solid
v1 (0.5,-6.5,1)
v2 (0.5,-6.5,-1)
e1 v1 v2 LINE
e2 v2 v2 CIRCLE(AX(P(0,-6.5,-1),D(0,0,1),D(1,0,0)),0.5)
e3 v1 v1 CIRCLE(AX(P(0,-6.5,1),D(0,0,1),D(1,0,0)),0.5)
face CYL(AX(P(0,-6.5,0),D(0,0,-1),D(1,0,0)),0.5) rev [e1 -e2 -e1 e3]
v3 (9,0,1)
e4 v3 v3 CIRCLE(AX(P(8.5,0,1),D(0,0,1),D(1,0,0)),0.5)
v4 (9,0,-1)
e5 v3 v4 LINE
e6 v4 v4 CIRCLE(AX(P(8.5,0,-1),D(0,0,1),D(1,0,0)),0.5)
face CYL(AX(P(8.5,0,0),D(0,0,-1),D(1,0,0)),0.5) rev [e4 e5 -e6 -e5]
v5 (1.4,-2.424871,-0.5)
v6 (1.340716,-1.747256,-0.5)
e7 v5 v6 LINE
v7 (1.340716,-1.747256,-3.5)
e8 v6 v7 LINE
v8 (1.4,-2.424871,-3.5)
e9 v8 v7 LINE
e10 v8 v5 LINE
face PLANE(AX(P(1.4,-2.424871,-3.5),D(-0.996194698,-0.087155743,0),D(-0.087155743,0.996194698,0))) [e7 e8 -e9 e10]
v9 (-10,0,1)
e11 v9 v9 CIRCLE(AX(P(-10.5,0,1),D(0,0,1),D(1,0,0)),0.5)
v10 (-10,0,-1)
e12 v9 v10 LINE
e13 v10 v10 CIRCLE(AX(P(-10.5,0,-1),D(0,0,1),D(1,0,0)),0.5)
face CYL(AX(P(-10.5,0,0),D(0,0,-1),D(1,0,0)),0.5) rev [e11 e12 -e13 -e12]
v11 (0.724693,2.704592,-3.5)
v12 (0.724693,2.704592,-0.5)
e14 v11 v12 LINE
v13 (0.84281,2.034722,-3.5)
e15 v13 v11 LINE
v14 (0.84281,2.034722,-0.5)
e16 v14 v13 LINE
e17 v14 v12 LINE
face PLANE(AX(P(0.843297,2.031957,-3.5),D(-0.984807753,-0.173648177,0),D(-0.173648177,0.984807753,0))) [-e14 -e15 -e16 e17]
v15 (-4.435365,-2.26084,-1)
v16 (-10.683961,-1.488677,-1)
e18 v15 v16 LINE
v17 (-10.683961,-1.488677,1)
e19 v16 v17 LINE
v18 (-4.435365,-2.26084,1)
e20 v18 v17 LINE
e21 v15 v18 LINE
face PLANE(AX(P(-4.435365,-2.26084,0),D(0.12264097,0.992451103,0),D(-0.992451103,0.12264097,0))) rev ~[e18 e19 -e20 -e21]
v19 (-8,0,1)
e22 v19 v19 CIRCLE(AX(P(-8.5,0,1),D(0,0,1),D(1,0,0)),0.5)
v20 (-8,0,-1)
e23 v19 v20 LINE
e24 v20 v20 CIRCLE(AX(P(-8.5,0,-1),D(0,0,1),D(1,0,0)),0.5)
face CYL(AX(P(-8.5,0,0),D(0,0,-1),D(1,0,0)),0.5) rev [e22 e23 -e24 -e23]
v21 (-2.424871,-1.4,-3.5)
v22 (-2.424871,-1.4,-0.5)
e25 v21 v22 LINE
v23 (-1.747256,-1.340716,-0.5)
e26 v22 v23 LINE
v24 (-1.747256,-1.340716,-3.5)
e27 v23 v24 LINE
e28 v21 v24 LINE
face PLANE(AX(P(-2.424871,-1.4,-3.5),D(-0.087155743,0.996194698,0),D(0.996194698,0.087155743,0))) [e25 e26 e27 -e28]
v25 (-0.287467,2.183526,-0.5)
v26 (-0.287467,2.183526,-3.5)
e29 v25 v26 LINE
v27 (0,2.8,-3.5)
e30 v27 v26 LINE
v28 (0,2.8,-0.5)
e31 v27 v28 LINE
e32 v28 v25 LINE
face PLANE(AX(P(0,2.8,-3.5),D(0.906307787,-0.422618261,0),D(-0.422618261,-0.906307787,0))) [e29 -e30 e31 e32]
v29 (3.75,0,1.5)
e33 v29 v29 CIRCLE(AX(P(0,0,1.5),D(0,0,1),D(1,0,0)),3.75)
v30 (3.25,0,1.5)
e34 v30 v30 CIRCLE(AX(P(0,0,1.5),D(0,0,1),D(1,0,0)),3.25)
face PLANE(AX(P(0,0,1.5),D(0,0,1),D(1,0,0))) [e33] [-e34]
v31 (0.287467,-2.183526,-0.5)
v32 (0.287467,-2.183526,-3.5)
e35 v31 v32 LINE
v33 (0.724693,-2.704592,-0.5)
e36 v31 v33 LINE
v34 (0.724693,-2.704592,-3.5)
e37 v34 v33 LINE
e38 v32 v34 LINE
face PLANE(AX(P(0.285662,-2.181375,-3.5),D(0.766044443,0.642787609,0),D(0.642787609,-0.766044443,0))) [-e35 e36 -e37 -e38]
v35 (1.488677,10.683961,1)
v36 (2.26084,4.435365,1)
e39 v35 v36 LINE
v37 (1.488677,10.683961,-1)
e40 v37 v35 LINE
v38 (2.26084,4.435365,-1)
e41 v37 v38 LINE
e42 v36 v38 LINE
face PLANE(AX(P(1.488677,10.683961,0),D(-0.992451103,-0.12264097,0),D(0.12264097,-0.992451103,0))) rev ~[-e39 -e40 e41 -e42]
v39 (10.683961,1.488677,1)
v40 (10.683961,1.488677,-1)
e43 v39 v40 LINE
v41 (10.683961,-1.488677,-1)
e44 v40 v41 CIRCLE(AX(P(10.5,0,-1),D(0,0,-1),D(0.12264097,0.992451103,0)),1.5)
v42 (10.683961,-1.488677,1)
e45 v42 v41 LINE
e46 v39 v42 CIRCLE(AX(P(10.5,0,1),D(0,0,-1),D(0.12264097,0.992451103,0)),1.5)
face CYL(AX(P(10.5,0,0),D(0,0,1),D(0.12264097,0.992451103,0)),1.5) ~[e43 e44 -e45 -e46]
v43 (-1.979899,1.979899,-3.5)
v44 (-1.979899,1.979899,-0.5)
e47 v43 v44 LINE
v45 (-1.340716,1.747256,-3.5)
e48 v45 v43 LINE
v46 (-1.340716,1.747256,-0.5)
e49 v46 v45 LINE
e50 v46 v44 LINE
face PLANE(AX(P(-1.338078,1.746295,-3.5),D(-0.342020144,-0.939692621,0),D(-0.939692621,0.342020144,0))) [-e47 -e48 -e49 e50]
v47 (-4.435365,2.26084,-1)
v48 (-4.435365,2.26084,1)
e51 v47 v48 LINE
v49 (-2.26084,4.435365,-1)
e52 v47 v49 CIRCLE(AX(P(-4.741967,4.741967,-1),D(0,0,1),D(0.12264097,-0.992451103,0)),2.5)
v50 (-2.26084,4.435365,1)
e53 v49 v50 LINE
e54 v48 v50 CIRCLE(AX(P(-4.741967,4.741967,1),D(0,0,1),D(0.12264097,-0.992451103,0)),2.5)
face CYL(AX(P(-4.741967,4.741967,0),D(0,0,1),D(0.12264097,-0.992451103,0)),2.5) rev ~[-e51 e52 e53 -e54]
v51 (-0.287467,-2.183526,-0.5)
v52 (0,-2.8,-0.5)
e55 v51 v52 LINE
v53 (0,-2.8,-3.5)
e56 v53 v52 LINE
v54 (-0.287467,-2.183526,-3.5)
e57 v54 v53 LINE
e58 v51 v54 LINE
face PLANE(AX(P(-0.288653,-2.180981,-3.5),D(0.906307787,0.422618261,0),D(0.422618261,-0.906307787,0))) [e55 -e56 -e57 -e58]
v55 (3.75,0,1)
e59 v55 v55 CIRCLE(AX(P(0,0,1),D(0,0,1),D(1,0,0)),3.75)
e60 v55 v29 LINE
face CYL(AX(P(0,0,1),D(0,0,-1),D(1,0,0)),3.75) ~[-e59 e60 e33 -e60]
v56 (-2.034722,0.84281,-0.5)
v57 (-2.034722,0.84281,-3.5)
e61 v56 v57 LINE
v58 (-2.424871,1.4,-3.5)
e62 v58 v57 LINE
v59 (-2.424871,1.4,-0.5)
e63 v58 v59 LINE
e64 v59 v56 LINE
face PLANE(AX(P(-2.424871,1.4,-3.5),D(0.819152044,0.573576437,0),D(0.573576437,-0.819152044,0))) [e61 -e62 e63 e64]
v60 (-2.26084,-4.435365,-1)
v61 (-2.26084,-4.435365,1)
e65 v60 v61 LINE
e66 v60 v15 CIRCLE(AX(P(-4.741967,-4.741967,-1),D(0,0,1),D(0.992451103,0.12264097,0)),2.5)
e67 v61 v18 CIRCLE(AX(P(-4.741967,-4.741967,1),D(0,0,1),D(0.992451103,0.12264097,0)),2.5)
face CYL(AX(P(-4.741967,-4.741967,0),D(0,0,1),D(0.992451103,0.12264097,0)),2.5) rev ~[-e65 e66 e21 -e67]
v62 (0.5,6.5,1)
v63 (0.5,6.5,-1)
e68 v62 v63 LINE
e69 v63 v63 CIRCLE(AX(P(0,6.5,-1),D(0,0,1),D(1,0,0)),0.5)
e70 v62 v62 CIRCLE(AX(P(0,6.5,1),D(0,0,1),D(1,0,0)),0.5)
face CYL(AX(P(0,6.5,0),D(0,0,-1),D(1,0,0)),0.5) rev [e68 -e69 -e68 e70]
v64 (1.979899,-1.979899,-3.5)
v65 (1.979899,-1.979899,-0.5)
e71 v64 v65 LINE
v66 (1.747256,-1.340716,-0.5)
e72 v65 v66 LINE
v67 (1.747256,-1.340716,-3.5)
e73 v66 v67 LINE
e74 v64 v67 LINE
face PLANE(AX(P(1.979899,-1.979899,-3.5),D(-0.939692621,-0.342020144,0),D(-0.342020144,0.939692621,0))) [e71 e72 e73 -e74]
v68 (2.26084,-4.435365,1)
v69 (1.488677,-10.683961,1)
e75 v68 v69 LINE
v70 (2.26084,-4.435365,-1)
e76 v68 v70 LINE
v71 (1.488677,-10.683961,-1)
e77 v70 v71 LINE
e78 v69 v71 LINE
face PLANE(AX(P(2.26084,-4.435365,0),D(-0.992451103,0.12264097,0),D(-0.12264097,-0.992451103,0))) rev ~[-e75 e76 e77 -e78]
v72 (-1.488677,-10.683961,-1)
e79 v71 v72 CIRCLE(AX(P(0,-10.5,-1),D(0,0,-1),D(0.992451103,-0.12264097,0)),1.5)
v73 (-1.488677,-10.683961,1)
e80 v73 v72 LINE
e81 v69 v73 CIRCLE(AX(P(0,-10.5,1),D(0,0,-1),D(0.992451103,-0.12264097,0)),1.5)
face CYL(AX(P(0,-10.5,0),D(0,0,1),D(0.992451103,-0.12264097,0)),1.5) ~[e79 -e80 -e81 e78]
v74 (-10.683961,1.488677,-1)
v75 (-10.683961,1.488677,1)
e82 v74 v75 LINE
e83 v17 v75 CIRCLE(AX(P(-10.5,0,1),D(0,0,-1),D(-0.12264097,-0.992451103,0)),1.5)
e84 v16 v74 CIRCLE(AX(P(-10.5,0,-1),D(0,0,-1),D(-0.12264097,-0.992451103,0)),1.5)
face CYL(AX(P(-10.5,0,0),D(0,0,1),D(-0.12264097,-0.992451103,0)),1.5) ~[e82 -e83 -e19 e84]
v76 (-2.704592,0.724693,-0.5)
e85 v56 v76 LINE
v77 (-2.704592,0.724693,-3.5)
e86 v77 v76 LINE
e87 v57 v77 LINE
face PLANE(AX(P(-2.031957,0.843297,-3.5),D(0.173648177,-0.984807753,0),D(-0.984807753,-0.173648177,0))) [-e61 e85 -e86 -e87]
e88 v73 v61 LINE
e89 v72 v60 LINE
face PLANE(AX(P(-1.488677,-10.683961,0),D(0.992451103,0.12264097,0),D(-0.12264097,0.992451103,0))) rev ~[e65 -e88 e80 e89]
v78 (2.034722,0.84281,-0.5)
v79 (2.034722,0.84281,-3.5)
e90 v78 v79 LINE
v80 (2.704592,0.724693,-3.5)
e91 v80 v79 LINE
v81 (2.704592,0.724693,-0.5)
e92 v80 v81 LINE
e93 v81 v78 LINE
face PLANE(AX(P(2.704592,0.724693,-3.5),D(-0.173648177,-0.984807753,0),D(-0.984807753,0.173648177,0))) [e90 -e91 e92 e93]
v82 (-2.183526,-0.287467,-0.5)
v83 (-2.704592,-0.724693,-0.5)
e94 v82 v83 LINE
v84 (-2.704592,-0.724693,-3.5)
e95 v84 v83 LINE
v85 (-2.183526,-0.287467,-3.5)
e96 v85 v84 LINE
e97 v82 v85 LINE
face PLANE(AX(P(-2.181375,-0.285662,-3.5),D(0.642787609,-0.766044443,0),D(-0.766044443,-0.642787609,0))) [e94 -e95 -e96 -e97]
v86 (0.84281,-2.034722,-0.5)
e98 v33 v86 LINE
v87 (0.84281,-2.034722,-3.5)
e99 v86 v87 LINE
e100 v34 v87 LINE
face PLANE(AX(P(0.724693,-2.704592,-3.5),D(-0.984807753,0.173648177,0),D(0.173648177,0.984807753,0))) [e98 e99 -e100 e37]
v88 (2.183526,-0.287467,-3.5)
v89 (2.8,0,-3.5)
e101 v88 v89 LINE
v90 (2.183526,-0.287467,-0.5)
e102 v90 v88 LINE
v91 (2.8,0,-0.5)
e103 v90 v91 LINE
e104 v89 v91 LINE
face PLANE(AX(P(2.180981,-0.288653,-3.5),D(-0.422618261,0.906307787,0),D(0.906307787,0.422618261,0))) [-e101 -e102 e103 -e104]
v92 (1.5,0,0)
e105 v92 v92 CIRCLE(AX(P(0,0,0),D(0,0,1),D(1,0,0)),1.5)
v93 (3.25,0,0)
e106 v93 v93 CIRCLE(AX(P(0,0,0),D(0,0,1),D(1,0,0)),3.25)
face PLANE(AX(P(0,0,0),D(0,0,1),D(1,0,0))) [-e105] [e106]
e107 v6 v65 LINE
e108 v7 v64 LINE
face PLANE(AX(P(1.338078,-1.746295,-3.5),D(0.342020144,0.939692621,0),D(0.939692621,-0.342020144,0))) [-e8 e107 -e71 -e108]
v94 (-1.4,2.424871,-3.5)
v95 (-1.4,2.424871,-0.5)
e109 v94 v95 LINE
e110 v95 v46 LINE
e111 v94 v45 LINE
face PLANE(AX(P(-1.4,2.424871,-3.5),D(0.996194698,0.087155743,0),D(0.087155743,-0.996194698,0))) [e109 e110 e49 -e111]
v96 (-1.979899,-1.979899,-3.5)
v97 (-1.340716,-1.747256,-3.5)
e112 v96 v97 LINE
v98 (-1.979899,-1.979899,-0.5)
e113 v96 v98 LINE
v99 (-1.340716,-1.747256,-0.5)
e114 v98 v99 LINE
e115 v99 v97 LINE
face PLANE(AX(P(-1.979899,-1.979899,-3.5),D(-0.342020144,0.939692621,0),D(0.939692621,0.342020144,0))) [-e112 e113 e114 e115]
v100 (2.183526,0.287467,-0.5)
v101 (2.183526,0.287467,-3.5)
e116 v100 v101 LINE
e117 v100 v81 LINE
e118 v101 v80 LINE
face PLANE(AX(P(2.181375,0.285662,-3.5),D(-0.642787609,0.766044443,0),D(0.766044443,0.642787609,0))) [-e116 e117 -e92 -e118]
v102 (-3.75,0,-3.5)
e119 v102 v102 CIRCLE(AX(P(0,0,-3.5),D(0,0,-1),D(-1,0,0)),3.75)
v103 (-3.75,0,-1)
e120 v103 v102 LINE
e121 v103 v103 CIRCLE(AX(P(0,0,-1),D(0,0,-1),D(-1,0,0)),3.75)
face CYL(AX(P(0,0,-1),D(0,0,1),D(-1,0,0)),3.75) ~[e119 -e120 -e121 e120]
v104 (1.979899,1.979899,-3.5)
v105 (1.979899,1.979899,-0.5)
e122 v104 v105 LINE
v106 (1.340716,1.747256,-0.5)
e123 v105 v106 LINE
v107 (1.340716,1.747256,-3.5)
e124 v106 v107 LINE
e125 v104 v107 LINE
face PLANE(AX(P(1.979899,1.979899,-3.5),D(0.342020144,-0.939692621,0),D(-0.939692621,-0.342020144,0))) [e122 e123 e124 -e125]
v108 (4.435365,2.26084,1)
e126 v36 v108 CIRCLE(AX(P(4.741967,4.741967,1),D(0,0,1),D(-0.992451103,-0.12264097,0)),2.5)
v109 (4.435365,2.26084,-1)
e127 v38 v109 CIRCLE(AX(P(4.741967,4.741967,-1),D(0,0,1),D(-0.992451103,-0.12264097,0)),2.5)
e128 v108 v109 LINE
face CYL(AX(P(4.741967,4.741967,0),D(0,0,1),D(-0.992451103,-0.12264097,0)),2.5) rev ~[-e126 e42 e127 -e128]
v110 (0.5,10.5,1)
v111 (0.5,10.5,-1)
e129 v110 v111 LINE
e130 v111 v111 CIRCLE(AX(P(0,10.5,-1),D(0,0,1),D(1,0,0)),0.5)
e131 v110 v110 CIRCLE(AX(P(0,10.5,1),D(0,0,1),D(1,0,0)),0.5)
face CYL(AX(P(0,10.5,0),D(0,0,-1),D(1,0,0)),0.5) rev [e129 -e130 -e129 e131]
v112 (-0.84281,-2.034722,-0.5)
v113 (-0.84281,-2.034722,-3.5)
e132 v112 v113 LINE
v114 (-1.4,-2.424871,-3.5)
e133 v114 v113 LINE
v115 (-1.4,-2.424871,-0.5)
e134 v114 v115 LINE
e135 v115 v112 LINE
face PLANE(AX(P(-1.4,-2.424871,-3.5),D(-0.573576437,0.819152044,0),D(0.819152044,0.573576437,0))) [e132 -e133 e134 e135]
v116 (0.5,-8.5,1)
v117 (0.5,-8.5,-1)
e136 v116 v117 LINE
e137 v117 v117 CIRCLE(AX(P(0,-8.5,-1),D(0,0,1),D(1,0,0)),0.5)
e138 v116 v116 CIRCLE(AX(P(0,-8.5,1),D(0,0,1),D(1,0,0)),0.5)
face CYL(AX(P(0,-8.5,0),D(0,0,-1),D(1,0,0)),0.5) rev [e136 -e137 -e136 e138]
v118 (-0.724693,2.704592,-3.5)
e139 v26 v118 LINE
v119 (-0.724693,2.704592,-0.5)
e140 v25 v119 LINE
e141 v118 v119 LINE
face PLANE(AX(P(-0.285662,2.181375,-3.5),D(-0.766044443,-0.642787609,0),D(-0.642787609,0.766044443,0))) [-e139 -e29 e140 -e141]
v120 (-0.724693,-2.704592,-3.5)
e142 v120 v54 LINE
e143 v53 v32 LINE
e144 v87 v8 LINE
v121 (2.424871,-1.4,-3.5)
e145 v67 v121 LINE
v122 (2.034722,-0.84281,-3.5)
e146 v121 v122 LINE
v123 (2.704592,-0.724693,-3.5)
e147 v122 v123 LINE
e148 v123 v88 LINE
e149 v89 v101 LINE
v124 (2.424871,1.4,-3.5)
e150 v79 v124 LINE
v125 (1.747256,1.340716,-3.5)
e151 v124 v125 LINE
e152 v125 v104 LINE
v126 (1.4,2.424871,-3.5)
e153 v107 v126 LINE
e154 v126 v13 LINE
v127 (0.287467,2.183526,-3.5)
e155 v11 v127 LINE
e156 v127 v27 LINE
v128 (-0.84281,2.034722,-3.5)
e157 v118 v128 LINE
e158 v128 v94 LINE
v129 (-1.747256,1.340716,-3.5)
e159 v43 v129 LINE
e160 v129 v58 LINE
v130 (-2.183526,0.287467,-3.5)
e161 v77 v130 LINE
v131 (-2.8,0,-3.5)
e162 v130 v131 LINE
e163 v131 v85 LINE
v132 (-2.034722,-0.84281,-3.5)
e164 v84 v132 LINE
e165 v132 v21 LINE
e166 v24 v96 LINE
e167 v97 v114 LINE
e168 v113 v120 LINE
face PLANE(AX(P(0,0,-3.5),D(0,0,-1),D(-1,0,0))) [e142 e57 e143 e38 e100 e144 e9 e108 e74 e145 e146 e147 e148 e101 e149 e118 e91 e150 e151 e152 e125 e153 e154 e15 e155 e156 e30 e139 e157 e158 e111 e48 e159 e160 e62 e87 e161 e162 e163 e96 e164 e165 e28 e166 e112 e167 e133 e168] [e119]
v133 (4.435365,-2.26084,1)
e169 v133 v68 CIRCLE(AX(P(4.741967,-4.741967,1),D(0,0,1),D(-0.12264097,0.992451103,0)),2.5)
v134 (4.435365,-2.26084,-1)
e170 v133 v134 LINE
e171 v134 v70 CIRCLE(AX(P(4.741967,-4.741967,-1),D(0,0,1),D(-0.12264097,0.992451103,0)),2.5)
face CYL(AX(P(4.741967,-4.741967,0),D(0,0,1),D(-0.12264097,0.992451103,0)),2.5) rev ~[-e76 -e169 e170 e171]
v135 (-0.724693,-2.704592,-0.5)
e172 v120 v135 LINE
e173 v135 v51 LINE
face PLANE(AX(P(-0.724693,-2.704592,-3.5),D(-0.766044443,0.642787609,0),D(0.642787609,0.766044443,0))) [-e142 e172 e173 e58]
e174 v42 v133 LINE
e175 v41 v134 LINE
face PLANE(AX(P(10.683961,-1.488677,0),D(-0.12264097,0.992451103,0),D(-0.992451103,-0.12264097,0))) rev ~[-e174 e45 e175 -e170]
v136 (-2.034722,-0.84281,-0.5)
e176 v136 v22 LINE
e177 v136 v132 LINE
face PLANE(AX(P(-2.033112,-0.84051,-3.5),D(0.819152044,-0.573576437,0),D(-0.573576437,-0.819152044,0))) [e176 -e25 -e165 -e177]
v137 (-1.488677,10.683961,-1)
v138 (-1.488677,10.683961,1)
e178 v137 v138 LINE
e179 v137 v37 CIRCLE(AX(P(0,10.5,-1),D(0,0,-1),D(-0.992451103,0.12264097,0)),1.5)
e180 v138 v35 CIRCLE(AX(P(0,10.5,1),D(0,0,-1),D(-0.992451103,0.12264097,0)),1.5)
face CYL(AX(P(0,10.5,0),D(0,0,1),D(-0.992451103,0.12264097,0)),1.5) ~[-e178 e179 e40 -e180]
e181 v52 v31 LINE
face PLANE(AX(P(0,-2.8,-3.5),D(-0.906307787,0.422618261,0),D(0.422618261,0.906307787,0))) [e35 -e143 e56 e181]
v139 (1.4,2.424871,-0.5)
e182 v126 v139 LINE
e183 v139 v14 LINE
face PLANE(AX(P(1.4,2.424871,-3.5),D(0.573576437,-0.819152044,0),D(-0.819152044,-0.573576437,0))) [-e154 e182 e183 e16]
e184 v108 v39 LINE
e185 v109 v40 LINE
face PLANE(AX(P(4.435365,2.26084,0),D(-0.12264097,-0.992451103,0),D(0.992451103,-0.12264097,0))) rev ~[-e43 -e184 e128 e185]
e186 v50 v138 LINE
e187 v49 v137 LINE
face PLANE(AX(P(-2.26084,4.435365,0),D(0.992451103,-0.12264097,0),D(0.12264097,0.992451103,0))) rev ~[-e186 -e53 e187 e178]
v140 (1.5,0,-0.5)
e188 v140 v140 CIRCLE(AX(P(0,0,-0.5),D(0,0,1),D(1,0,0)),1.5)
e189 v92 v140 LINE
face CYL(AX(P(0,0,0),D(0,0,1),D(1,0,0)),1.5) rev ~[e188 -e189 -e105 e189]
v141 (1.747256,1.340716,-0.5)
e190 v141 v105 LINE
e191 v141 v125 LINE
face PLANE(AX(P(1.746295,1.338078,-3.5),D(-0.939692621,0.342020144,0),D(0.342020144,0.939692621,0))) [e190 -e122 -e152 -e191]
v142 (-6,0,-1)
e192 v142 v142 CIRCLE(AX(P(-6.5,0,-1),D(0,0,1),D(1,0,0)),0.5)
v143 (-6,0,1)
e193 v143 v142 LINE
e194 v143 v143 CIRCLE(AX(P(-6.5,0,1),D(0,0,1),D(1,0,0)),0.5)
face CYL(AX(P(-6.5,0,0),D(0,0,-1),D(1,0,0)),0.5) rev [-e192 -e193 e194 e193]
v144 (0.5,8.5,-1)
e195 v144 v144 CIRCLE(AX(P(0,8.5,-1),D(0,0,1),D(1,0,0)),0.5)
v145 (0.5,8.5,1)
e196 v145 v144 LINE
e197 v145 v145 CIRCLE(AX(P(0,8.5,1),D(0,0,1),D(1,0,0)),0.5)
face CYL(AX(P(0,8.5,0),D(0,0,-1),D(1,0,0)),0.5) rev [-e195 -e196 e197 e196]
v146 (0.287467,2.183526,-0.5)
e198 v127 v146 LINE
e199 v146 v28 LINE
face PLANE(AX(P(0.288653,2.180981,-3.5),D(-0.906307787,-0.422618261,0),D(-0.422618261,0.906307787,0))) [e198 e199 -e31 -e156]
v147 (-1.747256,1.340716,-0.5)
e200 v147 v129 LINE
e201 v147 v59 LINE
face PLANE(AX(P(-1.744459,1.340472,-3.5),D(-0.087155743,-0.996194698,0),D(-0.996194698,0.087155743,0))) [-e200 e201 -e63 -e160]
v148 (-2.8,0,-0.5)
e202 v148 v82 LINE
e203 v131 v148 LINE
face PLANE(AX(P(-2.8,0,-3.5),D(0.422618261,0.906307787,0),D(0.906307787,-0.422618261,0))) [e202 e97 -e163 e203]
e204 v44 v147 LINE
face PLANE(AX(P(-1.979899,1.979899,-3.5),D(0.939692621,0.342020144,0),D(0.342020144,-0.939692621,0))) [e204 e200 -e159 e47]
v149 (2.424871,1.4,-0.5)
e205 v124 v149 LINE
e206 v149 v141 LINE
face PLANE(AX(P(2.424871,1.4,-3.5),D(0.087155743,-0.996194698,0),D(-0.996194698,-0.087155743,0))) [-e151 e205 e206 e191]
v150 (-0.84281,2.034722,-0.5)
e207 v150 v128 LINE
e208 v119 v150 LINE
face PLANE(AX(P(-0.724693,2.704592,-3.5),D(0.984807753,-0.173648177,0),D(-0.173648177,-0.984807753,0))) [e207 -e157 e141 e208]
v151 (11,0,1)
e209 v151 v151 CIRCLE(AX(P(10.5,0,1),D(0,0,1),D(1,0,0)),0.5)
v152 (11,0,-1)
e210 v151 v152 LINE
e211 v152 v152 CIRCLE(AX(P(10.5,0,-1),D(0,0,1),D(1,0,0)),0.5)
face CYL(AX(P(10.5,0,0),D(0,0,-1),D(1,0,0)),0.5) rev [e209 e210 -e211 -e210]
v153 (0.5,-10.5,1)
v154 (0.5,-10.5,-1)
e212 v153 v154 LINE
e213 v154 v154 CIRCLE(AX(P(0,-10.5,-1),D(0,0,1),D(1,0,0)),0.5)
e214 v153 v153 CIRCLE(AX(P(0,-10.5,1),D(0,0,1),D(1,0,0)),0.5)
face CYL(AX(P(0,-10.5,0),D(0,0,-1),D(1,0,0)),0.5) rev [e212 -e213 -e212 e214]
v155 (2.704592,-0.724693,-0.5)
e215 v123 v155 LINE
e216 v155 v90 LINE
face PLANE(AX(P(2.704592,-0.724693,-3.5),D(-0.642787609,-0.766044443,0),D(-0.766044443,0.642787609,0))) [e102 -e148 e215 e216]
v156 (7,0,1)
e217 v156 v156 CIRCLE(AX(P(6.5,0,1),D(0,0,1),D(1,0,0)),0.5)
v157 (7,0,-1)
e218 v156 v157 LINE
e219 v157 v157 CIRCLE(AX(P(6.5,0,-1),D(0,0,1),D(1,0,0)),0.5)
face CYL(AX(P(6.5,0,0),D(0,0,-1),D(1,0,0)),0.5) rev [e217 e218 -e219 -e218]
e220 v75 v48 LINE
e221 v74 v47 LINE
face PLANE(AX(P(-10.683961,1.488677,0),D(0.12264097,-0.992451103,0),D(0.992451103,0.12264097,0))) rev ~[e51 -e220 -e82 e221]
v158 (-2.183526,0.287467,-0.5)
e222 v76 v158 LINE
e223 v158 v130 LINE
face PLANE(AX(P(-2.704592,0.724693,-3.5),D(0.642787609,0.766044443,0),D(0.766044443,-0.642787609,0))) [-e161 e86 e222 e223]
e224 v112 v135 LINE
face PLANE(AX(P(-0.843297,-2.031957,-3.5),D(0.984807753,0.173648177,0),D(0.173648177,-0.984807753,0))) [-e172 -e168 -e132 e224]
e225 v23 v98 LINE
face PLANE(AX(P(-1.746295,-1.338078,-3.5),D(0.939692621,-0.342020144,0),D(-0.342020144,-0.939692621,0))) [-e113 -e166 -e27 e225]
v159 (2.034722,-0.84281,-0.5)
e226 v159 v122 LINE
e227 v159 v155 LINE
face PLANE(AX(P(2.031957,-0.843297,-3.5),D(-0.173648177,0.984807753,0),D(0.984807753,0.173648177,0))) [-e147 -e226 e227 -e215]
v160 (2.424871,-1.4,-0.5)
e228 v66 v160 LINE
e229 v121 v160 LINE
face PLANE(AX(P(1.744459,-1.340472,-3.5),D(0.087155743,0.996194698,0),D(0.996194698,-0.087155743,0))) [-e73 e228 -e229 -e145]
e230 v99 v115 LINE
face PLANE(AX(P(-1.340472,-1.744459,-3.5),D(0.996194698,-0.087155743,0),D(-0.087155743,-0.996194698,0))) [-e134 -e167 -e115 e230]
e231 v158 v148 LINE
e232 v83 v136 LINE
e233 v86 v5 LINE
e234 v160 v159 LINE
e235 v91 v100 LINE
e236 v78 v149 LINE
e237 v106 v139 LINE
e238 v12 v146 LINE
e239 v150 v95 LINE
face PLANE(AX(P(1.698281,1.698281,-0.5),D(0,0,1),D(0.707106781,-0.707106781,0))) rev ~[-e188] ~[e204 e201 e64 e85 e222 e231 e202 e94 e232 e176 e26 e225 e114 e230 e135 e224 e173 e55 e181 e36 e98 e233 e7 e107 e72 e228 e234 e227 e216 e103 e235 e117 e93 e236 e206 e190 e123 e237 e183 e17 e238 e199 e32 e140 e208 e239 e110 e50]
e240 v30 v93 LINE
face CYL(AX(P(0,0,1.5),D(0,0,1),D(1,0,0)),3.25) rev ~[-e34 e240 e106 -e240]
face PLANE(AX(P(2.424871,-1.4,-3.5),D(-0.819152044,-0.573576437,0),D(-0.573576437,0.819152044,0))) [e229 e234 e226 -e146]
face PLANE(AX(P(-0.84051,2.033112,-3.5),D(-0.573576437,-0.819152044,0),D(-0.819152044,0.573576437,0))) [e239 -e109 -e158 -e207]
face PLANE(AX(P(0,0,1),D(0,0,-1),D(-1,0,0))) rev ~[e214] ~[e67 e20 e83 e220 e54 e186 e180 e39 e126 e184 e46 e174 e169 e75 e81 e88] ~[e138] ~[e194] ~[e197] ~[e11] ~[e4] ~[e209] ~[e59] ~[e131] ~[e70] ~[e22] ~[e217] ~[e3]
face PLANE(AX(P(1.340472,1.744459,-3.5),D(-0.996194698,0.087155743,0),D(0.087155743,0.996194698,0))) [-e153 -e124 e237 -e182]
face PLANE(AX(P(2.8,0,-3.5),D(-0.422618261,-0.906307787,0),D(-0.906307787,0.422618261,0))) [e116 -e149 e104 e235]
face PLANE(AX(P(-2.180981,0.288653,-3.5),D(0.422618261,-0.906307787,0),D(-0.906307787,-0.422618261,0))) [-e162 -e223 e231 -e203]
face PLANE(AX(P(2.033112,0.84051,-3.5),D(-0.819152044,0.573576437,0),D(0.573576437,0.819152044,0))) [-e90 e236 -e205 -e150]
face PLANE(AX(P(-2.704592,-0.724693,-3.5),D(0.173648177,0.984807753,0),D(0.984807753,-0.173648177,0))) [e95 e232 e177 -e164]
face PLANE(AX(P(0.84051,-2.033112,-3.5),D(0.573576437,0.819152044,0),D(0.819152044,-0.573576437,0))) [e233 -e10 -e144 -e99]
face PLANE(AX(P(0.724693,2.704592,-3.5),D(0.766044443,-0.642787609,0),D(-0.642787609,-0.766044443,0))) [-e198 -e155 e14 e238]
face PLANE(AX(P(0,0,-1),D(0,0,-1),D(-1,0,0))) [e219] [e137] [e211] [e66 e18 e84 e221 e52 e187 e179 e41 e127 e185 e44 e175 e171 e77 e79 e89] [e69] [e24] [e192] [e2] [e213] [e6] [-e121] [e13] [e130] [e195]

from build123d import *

# Parameters (mm, degrees)
ESQUISSE1_R                  = 0.5
BASE_EXTRUSION_DEPTH         = 1
ESQUISSE2_R                  = 3.75
BOSS_EXTRU_1_DEPTH           = 0.5
ESQUISSE3_R                  = 3.75
BOSS_EXTRU_2_DEPTH           = 2.5
ESQUISSE4_R                  = 3.25
ENL_V_MAT_EXTRU_1_DEPTH      = 1.5
ESQUISSE5_R                  = 1.5
ENL_V_MAT_EXTRU_2_DEPTH      = 4.5
ESQUISSE7_R                  = 2.2
ENL_V_MAT_EXTRU_4_DEPTH      = 3
DENTS_DEPTH                  = 3
R_P_TITION_CIRCULAIRE1_COUNT = 24


with BuildPart() as part:
    # Esquisse1 → Base-Extrusion (new body, symmetric)
    with BuildSketch(Plane.XY):
        with BuildLine():
            Line((1.488676655, 10.683961455), (2.260839574, 4.435364907))
            ThreePointArc((2.260839574, 4.435364907), (2.974200379, 2.974200379), (4.435364907, 2.260839574))
            Line((4.435364907, 2.260839574), (10.683961455, 1.488676655))
            ThreePointArc((10.683961455, 1.488676655), (12, 0), (10.683961455, -1.488676655))
            Line((10.683961455, -1.488676655), (4.435364907, -2.260839574))
            ThreePointArc((4.435364907, -2.260839574), (2.974200379, -2.974200379), (2.260839574, -4.435364907))
            Line((2.260839574, -4.435364907), (1.488676655, -10.683961455))
            ThreePointArc((1.488676655, -10.683961455), (0, -12), (-1.488676655, -10.683961455))
            Line((-1.488676655, -10.683961455), (-2.260839574, -4.435364907))
            ThreePointArc((-2.260839574, -4.435364907), (-2.974200379, -2.974200379), (-4.435364907, -2.260839574))
            Line((-4.435364907, -2.260839574), (-10.683961455, -1.488676655))
            ThreePointArc((-10.683961455, -1.488676655), (-12, 0), (-10.683961455, 1.488676655))
            Line((-10.683961455, 1.488676655), (-4.435364907, 2.260839574))
            ThreePointArc((-4.435364907, 2.260839574), (-2.974200379, 2.974200379), (-2.260839574, 4.435364907))
            Line((-2.260839574, 4.435364907), (-1.488676655, 10.683961455))
            ThreePointArc((-1.488676655, 10.683961455), (0, 12), (1.488676655, 10.683961455))
        make_face()
        with Locations((10.5, 0)):
            Circle(ESQUISSE1_R, mode=Mode.SUBTRACT)
        with Locations((8.5, 0)):
            Circle(ESQUISSE1_R, mode=Mode.SUBTRACT)
        with Locations((6.5, 0)):
            Circle(ESQUISSE1_R, mode=Mode.SUBTRACT)
        with Locations((0, -10.5)):
            Circle(ESQUISSE1_R, mode=Mode.SUBTRACT)
        with Locations((0, -8.5)):
            Circle(ESQUISSE1_R, mode=Mode.SUBTRACT)
        with Locations((0, -6.5)):
            Circle(ESQUISSE1_R, mode=Mode.SUBTRACT)
        with Locations((0, 10.5)):
            Circle(ESQUISSE1_R, mode=Mode.SUBTRACT)
        with Locations((0, 8.5)):
            Circle(ESQUISSE1_R, mode=Mode.SUBTRACT)
        with Locations((0, 6.5)):
            Circle(ESQUISSE1_R, mode=Mode.SUBTRACT)
        with Locations((-10.5, 0)):
            Circle(ESQUISSE1_R, mode=Mode.SUBTRACT)
        with Locations((-8.5, 0)):
            Circle(ESQUISSE1_R, mode=Mode.SUBTRACT)
        with Locations((-6.5, 0)):
            Circle(ESQUISSE1_R, mode=Mode.SUBTRACT)
    extrude(amount=BASE_EXTRUSION_DEPTH, both=True)

    # Esquisse2 → Boss.-Extru.1 (add)
    with BuildSketch(Plane.XY.offset(1)):
        Circle(ESQUISSE2_R)
    extrude(amount=BOSS_EXTRU_1_DEPTH)

    # Esquisse3 → Boss.-Extru.2 (add)
    with BuildSketch(Plane(origin=(0, 0, -1), x_dir=(-1, 0, 0), z_dir=(0, 0, -1))):
        Circle(ESQUISSE3_R)
    extrude(amount=BOSS_EXTRU_2_DEPTH)

    # Esquisse4 → Enlèv. mat.-Extru.1 (cut)
    with BuildSketch(Plane.XY.offset(1.5)):
        Circle(ESQUISSE4_R)
    extrude(amount=-ENL_V_MAT_EXTRU_1_DEPTH, mode=Mode.SUBTRACT)

    # Esquisse5 → Enlèv. mat.-Extru.2 (cut, through all)
    with BuildSketch(Plane.XY):
        Circle(ESQUISSE5_R)
    extrude(amount=-ENL_V_MAT_EXTRU_2_DEPTH, mode=Mode.SUBTRACT)

    # Esquisse7 → Enlèv. mat.-Extru.4 (cut)
    with BuildSketch(Plane(origin=(0, 0, -3.5), x_dir=(-1, 0, 0), z_dir=(0, 0, -1))):
        Circle(ESQUISSE7_R)
    extrude(amount=-ENL_V_MAT_EXTRU_4_DEPTH, mode=Mode.SUBTRACT)

    # Esquisse6 → Dents (cut)
    with BuildSketch(Plane(origin=(0, 0, -3.5), x_dir=(-1, 0, 0), z_dir=(0, 0, -1))):
        with BuildLine():
            Line((0, 2.8), (0.288653169, 2.180981281))
            ThreePointArc((0.288653169, 2.180981281), (0, 2.2), (-0.288653169, 2.180981281))
            Line((-0.288653169, 2.180981281), (0, 2.8))
        make_face()
    dents = extrude(amount=-DENTS_DEPTH, mode=Mode.SUBTRACT)

    # Répétition circulaire1: Dents ×24 about axis
    r_p_tition_circulaire1_axis = Axis((0, 0, 0), (0, 0, 1))
    for i in range(1, R_P_TITION_CIRCULAIRE1_COUNT):
        add(dents.rotate(r_p_tition_circulaire1_axis, i * 360 / R_P_TITION_CIRCULAIRE1_COUNT), mode=Mode.SUBTRACT)


solid = part.part
